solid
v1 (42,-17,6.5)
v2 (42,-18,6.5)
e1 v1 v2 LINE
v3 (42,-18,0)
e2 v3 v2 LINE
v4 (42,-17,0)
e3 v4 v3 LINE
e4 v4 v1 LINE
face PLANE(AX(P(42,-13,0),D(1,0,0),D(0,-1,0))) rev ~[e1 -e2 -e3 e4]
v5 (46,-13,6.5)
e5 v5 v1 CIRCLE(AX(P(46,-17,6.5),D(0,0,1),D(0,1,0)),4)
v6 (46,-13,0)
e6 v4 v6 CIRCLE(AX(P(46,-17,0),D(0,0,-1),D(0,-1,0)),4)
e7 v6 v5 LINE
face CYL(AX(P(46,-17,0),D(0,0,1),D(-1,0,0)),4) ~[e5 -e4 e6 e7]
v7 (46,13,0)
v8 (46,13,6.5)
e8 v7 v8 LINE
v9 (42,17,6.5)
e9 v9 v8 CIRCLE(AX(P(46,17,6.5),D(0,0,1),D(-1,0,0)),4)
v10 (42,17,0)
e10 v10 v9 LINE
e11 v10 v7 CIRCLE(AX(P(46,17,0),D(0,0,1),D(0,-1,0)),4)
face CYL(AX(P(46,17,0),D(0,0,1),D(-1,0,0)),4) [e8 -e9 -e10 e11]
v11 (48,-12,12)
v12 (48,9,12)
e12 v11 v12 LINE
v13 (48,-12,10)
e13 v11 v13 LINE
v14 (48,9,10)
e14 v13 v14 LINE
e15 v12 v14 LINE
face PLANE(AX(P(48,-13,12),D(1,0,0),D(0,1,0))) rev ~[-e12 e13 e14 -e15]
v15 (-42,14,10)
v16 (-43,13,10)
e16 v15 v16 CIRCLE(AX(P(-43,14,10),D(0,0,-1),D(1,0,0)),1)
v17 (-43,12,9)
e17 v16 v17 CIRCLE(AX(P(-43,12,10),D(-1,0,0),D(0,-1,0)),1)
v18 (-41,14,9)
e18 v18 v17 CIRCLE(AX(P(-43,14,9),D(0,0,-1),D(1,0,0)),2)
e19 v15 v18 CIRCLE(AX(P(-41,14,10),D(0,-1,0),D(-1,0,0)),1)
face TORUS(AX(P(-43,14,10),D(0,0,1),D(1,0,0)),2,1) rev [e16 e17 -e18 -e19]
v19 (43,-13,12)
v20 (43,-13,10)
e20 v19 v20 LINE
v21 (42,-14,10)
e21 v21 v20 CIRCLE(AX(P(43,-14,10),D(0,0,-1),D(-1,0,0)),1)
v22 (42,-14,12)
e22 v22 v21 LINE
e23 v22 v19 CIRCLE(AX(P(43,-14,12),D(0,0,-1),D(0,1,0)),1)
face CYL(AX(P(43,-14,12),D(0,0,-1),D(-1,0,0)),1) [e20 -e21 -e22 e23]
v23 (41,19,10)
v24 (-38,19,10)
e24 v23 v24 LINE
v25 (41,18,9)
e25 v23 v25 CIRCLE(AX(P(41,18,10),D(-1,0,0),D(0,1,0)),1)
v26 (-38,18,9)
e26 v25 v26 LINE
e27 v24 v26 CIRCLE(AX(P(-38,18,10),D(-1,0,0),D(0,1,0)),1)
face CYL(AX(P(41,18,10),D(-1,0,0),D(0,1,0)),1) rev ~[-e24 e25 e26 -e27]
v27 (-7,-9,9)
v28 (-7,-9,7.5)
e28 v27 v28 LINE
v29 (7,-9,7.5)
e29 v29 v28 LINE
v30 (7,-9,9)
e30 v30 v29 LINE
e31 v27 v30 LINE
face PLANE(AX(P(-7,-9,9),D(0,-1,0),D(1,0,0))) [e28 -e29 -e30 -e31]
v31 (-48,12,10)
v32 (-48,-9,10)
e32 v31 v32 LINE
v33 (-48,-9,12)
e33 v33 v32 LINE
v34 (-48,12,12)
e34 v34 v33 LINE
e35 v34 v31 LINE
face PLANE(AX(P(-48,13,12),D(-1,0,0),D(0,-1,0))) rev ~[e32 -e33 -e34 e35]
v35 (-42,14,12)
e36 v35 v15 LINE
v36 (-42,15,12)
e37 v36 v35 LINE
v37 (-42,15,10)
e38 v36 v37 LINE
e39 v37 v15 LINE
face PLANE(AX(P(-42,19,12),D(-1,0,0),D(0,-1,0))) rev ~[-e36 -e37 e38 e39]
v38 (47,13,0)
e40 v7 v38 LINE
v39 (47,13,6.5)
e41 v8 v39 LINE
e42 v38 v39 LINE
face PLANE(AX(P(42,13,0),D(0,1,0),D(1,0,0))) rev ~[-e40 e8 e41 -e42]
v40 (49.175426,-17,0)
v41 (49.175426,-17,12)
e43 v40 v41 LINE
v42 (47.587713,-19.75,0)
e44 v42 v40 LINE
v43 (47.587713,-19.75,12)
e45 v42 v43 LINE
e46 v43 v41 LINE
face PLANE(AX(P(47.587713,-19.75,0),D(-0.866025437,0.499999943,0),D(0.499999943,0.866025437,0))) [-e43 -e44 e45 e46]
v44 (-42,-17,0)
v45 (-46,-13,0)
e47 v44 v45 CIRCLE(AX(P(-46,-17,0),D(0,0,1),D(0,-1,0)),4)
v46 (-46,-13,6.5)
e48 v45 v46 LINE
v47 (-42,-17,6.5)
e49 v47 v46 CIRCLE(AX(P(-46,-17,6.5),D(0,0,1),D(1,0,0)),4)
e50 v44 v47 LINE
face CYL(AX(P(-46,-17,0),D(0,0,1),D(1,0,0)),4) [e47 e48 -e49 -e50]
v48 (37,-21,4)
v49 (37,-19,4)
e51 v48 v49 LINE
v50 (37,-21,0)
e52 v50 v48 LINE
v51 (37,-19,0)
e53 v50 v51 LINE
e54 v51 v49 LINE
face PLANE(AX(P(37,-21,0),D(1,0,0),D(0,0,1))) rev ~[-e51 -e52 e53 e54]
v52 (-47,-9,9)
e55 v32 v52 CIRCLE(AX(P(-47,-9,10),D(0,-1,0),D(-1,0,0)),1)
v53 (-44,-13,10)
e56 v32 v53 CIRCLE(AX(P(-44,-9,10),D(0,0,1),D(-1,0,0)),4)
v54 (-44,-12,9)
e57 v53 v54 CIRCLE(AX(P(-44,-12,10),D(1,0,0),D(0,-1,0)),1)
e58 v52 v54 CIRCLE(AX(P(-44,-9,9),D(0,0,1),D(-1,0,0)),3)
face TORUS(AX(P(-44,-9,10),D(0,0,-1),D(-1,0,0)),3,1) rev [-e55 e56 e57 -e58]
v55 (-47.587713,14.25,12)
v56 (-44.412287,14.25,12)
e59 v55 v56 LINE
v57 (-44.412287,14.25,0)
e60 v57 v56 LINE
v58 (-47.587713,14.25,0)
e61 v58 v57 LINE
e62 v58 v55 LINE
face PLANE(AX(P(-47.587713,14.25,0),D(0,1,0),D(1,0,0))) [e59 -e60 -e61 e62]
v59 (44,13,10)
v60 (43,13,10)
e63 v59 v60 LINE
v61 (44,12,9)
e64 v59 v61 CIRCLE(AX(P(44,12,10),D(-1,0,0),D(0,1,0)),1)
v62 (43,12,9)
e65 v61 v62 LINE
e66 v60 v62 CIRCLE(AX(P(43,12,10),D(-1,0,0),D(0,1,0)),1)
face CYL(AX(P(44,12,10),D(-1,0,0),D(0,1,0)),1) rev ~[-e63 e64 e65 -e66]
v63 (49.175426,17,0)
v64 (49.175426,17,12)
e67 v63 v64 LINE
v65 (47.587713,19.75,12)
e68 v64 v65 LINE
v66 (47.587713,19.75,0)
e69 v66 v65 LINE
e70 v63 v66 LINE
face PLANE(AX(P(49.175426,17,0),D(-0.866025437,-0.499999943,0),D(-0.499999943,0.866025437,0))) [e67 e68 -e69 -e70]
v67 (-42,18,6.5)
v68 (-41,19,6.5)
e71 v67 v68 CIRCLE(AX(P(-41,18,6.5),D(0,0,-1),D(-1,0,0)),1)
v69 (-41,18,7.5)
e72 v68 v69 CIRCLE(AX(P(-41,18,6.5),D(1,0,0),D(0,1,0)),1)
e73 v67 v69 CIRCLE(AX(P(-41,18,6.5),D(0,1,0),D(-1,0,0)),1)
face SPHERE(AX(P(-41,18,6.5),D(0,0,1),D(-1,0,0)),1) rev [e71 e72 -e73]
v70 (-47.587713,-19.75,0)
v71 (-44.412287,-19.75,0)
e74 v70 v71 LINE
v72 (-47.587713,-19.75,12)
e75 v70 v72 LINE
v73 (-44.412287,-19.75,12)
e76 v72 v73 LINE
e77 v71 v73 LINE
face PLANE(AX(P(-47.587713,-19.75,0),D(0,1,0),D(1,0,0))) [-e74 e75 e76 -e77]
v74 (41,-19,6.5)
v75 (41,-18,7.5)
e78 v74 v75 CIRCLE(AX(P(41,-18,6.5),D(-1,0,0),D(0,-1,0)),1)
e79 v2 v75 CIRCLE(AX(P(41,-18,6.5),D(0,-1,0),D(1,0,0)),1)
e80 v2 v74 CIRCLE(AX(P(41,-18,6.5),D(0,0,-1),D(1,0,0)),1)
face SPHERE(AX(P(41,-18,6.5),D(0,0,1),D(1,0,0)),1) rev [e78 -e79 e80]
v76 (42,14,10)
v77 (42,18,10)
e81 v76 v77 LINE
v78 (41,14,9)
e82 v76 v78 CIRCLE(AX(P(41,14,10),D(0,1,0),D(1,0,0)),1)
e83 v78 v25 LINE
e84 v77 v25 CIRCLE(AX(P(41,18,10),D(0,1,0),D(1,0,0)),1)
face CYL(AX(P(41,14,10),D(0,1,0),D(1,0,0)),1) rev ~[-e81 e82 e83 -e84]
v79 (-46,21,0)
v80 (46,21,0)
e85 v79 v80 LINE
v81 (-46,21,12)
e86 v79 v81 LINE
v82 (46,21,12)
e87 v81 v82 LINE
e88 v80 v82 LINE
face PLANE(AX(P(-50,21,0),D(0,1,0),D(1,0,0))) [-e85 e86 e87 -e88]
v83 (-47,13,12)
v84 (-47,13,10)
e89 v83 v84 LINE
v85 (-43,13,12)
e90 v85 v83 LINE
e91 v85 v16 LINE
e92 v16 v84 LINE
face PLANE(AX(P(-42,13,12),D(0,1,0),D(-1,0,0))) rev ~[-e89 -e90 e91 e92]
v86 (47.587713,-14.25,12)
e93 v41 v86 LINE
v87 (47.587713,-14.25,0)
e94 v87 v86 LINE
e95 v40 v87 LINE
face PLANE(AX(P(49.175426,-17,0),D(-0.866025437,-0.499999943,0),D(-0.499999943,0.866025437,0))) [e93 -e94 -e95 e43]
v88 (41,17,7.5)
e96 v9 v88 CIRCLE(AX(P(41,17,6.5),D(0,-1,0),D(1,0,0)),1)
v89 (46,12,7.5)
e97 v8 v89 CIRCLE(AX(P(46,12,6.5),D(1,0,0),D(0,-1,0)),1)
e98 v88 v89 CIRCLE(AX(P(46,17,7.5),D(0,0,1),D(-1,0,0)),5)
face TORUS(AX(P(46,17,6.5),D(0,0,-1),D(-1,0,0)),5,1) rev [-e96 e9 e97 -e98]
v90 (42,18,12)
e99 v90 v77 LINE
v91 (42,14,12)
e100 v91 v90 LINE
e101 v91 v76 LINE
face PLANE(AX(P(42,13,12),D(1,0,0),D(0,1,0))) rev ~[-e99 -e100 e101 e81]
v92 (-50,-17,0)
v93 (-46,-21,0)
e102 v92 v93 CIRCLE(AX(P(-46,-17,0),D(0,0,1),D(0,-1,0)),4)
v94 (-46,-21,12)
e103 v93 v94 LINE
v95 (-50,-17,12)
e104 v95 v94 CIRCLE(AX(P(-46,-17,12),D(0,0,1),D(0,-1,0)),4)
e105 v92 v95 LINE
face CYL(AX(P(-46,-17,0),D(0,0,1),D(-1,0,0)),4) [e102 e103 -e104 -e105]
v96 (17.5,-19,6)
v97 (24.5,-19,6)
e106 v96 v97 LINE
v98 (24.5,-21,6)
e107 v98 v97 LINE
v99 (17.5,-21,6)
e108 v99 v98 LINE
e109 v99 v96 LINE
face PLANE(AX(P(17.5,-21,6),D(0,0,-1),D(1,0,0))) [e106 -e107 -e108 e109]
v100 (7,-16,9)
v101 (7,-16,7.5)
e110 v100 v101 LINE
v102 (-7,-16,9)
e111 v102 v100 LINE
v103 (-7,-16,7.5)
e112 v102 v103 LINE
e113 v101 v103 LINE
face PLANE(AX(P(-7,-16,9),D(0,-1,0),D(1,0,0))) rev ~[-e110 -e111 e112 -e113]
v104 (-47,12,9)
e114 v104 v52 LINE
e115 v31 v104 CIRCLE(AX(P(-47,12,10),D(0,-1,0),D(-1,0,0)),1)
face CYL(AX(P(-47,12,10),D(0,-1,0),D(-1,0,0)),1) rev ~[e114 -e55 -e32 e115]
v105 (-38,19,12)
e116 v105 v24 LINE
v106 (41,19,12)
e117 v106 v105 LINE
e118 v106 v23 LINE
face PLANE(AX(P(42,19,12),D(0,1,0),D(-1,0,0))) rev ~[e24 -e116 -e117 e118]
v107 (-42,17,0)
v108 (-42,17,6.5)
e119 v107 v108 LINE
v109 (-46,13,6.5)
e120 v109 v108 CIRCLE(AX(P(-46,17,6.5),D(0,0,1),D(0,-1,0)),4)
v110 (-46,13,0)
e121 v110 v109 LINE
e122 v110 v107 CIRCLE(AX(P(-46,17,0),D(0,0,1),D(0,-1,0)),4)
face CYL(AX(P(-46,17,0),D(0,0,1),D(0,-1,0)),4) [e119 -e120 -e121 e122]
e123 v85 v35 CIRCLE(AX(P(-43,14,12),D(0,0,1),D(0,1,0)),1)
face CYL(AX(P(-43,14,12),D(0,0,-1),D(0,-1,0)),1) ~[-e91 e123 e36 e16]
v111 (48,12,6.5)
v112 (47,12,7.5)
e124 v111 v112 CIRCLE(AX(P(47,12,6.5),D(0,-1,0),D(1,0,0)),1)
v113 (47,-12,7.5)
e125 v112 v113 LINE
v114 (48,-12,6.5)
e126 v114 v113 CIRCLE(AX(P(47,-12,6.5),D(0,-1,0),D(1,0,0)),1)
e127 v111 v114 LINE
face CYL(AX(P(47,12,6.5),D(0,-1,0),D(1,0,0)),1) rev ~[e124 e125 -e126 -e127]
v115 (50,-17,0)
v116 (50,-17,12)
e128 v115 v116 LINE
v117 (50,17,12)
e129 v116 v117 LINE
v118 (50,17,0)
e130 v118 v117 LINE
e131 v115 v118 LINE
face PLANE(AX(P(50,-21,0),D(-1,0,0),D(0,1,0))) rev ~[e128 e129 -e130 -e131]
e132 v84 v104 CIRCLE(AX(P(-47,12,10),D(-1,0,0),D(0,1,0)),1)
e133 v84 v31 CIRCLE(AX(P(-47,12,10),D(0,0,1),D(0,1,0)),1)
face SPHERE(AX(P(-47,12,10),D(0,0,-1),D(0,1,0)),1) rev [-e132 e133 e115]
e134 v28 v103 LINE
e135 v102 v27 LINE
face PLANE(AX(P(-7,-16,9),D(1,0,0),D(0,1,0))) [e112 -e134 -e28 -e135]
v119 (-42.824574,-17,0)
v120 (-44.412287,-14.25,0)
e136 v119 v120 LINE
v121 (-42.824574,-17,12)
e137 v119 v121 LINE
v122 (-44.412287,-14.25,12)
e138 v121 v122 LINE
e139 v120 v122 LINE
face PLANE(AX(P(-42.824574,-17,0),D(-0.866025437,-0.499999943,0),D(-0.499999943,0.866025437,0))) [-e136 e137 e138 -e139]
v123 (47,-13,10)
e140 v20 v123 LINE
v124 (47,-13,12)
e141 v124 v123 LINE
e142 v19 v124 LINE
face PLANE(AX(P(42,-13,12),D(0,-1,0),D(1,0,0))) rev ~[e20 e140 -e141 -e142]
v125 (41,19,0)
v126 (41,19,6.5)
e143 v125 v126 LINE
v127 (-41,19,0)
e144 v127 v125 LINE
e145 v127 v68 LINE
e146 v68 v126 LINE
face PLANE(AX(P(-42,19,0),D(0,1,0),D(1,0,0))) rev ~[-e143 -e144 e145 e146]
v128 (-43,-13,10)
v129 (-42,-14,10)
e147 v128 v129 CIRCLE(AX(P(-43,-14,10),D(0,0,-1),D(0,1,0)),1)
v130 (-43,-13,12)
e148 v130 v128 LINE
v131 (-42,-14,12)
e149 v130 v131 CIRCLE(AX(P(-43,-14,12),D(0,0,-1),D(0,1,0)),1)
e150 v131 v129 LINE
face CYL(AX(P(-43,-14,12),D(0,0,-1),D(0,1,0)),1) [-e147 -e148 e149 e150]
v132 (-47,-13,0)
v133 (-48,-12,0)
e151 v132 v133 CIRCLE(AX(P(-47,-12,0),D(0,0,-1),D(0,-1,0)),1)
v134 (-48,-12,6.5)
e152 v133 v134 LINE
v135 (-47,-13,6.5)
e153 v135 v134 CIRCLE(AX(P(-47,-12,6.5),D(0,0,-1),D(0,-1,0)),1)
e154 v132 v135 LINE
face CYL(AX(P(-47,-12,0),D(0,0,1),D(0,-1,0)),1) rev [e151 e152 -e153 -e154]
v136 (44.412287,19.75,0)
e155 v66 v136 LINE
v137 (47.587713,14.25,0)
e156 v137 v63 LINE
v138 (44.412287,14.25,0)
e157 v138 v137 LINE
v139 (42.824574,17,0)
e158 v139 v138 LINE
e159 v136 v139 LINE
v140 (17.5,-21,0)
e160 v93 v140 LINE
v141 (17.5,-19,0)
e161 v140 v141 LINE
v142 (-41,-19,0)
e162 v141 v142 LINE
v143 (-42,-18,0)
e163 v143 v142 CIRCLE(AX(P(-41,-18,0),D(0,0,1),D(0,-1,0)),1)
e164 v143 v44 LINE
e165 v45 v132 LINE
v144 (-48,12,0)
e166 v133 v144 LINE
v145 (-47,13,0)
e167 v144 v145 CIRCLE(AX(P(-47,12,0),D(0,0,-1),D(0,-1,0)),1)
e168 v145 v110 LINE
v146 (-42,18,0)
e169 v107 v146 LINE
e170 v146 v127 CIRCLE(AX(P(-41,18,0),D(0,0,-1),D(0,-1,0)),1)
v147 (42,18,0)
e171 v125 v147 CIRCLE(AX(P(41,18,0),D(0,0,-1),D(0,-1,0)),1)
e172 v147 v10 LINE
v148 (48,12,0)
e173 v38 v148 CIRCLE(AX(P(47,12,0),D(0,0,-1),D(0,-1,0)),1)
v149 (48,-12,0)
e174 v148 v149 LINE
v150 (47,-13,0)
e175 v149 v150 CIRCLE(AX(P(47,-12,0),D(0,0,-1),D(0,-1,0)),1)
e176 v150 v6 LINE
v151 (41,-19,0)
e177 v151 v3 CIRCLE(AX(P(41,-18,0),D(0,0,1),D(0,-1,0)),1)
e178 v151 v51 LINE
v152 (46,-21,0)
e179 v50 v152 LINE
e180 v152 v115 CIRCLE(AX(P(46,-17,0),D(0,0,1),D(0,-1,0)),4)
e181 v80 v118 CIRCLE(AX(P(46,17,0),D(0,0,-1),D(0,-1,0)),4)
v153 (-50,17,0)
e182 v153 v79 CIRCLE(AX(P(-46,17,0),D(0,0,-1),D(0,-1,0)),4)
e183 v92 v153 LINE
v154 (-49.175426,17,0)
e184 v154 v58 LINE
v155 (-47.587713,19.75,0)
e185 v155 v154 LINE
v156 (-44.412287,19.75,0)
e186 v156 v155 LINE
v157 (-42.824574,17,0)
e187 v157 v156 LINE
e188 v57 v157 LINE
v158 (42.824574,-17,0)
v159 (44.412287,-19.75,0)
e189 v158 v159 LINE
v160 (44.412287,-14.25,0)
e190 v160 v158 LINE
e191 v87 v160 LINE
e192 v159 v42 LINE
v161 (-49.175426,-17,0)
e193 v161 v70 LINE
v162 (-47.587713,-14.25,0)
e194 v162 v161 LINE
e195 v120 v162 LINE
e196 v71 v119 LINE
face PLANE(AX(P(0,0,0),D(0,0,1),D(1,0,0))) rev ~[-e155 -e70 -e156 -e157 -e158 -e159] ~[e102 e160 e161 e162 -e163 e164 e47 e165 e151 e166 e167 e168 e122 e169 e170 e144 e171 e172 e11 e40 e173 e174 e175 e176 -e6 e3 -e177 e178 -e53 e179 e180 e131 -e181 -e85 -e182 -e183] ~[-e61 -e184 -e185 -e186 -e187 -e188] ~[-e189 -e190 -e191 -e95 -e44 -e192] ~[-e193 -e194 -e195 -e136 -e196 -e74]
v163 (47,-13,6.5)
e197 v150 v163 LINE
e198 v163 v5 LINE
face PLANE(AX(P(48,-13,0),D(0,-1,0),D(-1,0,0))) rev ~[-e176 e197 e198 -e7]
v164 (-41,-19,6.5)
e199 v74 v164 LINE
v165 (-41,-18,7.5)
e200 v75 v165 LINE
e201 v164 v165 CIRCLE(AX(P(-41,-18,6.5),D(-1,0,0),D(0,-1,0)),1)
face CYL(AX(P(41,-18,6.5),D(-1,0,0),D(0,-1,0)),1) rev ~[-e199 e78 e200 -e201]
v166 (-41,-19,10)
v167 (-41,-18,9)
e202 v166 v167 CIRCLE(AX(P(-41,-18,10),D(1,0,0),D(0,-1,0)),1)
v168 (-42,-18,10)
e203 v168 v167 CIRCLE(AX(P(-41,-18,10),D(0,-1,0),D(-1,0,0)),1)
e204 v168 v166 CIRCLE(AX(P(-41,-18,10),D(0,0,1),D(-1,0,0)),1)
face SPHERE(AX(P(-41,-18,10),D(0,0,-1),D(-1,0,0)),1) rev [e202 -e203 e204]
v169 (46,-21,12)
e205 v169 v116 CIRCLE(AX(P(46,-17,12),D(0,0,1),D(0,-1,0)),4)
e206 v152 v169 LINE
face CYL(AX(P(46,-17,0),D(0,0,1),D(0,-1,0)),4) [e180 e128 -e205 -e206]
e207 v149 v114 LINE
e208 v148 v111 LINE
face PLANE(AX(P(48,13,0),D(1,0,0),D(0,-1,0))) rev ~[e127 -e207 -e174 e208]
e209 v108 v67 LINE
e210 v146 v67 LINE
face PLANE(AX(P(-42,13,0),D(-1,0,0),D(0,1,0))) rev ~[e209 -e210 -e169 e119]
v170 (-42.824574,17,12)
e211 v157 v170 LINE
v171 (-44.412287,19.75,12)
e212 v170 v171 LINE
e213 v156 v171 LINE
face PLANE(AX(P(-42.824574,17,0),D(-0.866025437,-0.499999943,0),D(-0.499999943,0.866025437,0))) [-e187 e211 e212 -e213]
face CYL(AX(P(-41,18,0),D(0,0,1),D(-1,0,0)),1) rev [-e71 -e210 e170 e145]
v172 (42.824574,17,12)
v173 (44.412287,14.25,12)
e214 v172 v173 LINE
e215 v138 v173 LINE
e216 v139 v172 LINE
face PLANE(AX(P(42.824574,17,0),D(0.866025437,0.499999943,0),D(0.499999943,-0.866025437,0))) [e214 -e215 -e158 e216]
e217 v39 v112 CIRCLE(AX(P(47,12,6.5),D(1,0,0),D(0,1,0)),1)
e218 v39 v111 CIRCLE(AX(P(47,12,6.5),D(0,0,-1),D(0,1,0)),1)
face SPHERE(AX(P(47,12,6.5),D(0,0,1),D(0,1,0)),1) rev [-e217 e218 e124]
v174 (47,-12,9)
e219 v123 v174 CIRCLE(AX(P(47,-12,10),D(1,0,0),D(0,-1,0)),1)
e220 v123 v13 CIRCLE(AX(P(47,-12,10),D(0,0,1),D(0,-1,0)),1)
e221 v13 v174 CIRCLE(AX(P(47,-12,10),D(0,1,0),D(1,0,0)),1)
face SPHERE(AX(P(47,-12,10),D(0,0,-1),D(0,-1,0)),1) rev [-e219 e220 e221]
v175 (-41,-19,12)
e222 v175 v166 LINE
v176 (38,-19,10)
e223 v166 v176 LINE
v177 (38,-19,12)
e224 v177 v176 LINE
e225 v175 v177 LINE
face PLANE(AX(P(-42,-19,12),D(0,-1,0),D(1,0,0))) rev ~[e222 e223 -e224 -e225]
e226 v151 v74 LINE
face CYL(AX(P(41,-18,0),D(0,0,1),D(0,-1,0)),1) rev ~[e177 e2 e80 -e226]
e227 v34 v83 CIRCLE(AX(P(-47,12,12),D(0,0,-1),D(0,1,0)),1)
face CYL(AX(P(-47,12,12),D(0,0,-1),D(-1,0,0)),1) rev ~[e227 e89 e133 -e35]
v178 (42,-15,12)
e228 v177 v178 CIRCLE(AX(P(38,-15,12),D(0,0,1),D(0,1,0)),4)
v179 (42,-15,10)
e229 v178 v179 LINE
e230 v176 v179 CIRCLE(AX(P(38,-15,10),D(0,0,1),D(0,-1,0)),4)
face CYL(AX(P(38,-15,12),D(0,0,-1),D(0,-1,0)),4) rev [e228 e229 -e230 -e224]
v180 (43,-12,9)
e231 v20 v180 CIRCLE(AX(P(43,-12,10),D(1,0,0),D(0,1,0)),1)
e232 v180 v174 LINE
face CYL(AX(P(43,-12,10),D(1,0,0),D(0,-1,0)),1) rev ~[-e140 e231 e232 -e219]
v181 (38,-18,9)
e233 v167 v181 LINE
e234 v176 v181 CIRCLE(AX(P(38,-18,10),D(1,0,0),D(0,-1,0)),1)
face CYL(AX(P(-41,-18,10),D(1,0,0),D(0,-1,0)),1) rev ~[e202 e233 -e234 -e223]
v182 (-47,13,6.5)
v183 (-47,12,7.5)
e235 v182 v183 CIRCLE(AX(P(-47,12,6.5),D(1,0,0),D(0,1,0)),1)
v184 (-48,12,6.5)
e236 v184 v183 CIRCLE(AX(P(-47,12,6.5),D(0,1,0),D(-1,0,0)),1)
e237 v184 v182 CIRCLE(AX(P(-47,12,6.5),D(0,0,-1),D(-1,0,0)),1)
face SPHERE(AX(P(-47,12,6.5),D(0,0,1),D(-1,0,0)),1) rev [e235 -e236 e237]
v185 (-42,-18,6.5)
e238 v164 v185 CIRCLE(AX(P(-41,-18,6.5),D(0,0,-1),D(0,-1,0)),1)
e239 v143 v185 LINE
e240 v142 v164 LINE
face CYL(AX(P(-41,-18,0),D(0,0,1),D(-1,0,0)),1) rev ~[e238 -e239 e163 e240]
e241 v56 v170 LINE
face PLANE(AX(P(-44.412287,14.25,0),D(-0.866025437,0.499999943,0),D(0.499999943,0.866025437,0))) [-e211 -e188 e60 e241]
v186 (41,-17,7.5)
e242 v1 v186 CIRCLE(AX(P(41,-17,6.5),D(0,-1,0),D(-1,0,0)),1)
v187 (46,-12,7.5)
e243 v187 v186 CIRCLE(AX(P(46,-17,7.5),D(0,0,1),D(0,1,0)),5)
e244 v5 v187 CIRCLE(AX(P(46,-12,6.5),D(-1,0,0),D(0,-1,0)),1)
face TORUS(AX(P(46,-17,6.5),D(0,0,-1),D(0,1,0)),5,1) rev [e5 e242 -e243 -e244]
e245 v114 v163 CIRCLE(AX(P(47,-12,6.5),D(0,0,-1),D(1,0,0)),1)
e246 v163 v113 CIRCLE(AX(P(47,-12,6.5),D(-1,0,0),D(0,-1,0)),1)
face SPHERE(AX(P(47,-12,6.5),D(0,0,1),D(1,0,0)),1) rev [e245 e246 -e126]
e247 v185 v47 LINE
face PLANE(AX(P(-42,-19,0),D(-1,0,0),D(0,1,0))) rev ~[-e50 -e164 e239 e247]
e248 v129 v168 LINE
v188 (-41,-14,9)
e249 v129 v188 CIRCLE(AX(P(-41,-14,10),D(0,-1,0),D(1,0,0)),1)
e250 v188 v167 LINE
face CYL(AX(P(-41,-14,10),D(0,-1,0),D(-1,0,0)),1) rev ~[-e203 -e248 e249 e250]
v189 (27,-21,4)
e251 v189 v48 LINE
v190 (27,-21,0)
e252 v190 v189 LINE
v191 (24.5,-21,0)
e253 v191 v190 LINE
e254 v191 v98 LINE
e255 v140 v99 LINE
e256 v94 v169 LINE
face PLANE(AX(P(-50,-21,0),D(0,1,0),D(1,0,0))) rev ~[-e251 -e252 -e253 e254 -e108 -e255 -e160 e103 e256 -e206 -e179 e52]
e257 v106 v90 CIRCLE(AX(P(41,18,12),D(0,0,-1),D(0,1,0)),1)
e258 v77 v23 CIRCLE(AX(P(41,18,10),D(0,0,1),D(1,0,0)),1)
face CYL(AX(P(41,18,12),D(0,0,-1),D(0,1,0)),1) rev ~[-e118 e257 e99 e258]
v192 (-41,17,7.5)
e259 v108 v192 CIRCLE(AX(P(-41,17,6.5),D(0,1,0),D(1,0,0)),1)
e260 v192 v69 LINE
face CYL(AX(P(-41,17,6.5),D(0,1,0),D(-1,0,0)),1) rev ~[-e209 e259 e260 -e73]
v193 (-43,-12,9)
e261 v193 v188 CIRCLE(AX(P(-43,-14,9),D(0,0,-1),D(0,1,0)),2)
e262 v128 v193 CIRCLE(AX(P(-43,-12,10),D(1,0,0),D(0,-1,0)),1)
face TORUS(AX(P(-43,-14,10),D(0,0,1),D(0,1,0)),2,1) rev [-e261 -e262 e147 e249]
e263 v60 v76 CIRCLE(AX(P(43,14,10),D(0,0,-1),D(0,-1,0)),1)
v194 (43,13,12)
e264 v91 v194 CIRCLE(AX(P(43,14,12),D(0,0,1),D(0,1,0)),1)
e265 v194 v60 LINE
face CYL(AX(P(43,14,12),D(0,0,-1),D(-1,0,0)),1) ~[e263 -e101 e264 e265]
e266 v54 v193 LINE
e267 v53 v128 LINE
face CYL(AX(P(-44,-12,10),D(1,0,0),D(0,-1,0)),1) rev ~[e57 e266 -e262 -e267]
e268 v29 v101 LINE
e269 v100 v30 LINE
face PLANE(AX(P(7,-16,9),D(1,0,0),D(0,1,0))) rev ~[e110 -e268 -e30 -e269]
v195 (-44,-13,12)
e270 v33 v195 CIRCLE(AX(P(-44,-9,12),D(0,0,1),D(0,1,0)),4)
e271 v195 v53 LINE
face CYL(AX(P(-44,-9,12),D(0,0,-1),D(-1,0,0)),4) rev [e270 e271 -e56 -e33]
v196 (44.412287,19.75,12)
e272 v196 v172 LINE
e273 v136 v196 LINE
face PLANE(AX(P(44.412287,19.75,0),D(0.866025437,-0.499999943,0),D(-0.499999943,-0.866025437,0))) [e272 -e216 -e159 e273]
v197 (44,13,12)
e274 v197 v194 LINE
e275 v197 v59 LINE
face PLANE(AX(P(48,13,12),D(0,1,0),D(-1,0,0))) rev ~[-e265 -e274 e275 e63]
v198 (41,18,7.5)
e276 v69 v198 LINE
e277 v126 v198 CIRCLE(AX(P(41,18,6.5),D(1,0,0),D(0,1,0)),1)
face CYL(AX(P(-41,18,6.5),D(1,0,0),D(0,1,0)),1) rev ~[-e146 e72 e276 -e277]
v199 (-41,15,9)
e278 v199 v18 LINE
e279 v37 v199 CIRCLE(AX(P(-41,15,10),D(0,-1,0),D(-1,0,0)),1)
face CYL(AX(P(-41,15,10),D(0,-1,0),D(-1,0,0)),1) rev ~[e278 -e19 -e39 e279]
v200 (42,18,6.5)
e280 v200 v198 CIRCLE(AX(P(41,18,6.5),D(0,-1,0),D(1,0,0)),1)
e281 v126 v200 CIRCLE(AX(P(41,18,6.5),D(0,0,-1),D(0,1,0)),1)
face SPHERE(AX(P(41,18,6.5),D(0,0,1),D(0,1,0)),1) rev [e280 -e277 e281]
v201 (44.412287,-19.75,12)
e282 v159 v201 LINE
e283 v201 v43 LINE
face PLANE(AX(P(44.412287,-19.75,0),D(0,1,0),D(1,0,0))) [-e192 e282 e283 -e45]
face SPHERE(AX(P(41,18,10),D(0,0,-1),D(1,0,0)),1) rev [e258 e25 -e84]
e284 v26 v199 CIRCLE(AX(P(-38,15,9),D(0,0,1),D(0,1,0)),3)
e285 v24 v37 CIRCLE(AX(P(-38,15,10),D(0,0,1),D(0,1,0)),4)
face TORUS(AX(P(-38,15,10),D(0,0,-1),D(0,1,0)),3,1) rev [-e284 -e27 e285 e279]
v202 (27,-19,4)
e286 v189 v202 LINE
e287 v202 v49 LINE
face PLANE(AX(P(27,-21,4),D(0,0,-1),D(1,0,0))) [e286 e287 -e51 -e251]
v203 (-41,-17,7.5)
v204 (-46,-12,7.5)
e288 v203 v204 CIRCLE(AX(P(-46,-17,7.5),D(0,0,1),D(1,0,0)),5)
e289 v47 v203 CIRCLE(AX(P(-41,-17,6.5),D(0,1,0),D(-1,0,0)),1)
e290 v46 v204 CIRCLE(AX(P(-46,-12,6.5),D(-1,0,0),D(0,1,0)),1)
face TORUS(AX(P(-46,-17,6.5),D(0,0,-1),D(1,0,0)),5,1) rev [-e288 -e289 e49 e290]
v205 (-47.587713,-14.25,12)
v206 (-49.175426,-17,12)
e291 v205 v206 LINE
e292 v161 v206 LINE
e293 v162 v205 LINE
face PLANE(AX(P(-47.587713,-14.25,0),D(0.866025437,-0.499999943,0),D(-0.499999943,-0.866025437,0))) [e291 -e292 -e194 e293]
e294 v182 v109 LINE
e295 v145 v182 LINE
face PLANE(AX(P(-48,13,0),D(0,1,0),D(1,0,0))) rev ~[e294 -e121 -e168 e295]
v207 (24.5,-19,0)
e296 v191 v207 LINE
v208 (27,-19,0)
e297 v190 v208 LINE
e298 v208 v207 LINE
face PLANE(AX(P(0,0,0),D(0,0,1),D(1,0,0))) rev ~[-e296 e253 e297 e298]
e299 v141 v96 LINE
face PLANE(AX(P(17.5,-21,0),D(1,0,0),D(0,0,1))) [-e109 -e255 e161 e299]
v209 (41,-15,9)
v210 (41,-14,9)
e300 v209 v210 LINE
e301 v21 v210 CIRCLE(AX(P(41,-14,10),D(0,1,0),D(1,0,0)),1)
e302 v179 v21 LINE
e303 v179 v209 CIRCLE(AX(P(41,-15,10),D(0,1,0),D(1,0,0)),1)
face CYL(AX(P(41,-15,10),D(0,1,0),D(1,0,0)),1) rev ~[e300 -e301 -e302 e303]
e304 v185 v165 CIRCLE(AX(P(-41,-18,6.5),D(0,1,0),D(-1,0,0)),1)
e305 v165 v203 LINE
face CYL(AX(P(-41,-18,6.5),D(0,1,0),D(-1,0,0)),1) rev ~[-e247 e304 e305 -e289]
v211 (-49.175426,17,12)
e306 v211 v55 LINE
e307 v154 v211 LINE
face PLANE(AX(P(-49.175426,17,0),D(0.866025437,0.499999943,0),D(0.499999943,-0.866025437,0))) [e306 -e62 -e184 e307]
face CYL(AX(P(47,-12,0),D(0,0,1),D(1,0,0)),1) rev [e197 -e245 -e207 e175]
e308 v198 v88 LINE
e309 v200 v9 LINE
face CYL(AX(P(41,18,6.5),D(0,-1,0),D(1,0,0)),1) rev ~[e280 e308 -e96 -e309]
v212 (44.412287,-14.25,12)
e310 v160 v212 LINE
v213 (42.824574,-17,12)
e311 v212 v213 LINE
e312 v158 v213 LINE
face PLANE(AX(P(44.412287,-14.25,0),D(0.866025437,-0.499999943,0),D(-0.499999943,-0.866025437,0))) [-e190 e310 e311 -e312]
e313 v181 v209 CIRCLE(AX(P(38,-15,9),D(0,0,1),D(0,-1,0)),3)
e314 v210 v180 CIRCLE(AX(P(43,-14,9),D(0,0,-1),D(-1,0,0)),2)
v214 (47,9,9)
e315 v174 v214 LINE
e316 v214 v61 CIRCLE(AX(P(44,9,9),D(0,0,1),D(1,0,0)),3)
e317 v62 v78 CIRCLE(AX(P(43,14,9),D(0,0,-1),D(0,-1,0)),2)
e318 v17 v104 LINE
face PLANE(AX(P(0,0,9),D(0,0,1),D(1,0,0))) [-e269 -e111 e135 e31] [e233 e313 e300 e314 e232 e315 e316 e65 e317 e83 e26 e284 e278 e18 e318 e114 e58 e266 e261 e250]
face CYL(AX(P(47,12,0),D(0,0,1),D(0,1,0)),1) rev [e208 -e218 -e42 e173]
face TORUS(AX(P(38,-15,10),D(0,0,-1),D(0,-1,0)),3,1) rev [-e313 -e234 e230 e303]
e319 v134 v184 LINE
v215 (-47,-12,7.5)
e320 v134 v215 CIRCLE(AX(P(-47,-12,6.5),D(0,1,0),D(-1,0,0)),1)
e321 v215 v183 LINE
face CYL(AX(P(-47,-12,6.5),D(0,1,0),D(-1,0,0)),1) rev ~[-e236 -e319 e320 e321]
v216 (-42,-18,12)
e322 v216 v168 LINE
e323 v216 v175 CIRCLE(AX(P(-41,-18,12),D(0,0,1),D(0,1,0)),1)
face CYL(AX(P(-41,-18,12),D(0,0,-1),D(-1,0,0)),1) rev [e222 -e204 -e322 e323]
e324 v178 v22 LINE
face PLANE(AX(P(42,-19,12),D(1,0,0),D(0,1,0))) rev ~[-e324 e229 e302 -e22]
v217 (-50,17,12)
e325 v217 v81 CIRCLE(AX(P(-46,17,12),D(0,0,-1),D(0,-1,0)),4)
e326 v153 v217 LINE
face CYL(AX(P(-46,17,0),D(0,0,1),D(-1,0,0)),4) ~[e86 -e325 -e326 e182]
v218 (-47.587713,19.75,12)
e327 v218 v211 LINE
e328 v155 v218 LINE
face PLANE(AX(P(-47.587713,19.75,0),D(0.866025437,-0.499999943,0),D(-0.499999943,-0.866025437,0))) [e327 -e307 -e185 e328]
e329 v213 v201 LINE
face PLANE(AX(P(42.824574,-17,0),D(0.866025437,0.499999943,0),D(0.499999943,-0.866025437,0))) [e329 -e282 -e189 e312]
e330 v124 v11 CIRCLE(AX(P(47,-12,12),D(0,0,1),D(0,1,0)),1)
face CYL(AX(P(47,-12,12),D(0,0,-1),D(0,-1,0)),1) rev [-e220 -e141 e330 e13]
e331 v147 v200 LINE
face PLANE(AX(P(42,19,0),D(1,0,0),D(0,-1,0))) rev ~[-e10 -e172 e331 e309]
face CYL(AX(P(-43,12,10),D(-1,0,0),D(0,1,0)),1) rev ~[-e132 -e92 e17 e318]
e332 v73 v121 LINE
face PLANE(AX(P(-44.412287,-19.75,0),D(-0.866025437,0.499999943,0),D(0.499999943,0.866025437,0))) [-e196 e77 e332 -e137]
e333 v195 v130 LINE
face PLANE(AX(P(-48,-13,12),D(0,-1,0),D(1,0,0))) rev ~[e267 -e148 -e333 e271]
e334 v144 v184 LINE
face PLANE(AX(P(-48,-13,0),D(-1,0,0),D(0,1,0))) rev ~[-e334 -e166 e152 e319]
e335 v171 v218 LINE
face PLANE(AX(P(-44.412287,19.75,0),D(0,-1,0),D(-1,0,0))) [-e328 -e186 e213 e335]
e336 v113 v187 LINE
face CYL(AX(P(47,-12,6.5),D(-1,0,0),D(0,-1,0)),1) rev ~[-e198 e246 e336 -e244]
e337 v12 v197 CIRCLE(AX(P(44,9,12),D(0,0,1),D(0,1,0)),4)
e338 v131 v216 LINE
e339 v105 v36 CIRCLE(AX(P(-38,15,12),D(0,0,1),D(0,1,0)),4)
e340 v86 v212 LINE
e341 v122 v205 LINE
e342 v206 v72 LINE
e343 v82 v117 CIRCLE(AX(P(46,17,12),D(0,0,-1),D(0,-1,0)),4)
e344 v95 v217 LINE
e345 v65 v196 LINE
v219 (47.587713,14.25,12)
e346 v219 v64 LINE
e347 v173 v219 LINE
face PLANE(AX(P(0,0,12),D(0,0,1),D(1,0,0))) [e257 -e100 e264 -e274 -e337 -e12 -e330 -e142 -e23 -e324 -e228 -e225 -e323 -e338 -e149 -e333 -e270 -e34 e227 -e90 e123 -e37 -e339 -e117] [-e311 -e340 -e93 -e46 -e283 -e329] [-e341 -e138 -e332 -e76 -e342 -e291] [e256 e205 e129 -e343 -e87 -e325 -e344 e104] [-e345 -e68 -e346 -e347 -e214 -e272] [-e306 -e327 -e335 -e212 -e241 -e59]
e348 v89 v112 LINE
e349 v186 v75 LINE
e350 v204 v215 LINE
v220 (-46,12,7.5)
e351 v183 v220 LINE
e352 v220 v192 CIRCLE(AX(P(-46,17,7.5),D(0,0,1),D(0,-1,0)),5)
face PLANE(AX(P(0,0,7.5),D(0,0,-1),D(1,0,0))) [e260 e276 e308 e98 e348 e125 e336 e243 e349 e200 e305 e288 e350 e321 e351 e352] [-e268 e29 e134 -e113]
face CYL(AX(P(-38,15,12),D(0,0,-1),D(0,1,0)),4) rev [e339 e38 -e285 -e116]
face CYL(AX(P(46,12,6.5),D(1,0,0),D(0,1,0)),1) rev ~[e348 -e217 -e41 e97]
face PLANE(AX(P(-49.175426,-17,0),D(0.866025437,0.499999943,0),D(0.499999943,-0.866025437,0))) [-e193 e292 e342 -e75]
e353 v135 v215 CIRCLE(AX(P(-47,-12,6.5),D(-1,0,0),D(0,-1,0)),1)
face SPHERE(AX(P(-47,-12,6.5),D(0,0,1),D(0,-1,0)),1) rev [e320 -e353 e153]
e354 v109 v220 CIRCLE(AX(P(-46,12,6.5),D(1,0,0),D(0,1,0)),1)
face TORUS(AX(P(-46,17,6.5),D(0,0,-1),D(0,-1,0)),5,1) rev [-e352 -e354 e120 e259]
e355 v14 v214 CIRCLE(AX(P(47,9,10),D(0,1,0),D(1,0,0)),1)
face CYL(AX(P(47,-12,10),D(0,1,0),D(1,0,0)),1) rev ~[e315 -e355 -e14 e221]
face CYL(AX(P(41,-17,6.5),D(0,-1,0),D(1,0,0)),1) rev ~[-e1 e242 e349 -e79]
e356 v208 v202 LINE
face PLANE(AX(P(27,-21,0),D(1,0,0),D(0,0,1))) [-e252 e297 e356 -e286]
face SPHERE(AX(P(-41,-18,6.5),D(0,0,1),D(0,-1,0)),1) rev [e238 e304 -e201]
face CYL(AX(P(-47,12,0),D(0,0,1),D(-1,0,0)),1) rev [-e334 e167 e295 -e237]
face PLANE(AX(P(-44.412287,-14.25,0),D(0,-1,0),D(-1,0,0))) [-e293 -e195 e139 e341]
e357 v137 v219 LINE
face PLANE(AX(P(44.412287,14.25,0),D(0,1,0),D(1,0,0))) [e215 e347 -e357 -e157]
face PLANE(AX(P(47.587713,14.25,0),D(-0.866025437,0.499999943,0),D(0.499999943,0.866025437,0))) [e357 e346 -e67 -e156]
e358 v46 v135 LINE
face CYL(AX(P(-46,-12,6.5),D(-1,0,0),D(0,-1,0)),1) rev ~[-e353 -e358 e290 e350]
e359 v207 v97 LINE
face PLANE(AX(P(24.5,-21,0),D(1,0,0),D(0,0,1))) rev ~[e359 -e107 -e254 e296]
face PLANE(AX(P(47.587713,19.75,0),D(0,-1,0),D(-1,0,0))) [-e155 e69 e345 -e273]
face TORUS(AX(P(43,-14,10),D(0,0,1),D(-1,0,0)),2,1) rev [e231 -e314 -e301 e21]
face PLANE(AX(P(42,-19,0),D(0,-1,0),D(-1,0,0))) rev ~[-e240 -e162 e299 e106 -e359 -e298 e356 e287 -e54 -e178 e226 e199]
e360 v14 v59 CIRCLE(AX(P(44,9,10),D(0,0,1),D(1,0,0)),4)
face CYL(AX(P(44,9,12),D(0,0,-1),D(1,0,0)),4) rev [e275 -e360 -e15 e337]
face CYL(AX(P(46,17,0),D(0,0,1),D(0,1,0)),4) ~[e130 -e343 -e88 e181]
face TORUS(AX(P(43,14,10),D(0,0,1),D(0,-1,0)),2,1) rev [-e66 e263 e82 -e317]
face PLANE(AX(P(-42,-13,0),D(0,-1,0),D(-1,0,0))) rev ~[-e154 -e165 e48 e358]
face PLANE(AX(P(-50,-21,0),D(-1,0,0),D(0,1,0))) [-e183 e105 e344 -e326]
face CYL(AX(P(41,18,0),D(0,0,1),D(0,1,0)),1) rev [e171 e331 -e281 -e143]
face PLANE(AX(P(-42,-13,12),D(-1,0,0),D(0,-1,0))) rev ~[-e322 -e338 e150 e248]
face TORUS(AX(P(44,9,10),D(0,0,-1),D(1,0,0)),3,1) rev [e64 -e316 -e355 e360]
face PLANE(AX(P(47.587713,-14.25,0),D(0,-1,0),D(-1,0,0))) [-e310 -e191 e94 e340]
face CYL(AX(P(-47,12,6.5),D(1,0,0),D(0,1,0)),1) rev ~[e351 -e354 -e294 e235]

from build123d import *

# Parameters (mm, degrees)
SKETCH_W        = 100
SKETCH_H        = 42
PAD_DEPTH       = 12
POCKET_DEPTH    = 3
POCKET001_DEPTH = 7.5
SKETCH002_W     = 14
SKETCH002_H     = 7
POCKET002_DEPTH = 5
SKETCH004_W     = 7
SKETCH004_H     = 6
POCKET003_DEPTH = 5
SKETCH005_W     = 10
SKETCH005_H     = 4
POCKET004_DEPTH = 5
FILLET_R        = 4
FILLET001_R     = 4
FILLET002_R     = 1
FILLET003_R     = 1
FILLET004_R     = 4
FILLET005_R     = 1
FILLET006_R     = 1


with BuildPart() as part:
    # Sketch → Pad (new body)
    with BuildSketch(Plane.XY):
        Rectangle(SKETCH_W, SKETCH_H)
        Polygon((-44.412287, 14.25), (-42.824574, 17), (-44.412287, 19.75), (-47.587713, 19.75), (-49.175426, 17), (-47.587713, 14.25), align=None, mode=Mode.SUBTRACT)
        Polygon((-44.412287, -19.75), (-42.824574, -17), (-44.412287, -14.25), (-47.587713, -14.25), (-49.175426, -17), (-47.587713, -19.75), align=None, mode=Mode.SUBTRACT)
        Polygon((49.175426, 17), (47.587713, 19.75), (44.412287, 19.75), (42.824574, 17), (44.412287, 14.25), (47.587713, 14.25), align=None, mode=Mode.SUBTRACT)
        Polygon((47.587713, -19.75), (49.175426, -17), (47.587713, -14.25), (44.412287, -14.25), (42.824574, -17), (44.412287, -19.75), align=None, mode=Mode.SUBTRACT)
    extrude(amount=PAD_DEPTH)

    # Sketch001 → Pocket (cut)
    with BuildSketch(Plane.XY.offset(12)):
        Polygon((-48, 13), (-48, -13), (-42, -13), (-42, -19), (42, -19), (42, -13), (48, -13), (48, 13), (42, 13), (42, 19), (-42, 19), (-42, 13), align=None)
    extrude(amount=-POCKET_DEPTH, mode=Mode.SUBTRACT)

    # Sketch003 → Pocket001 (cut)
    with BuildSketch(Plane(origin=(0, 0, 0), x_dir=(1, 0, 0), z_dir=(0, 0, -1))):
        Polygon((-48, 13), (-48, -13), (-42, -13), (-42, -19), (42, -19), (42, -13), (48, -13), (48, 13), (42, 13), (42, 19), (-42, 19), (-42, 13), align=None)
    extrude(amount=-POCKET001_DEPTH, mode=Mode.SUBTRACT)

    # Sketch002 → Pocket002 (cut)
    with BuildSketch(Plane.XY.offset(9)):
        with Locations((0, -12.5)):
            Rectangle(SKETCH002_W, SKETCH002_H)
    extrude(amount=-POCKET002_DEPTH, mode=Mode.SUBTRACT)

    # Sketch004 → Pocket003 (cut)
    with BuildSketch(Plane.XZ.offset(21)):
        with Locations((21, 3)):
            Rectangle(SKETCH004_W, SKETCH004_H)
    extrude(amount=-POCKET003_DEPTH, mode=Mode.SUBTRACT)

    # Sketch005 → Pocket004 (cut)
    with BuildSketch(Plane.XZ.offset(21)):
        with Locations((32, 2)):
            Rectangle(SKETCH005_W, SKETCH005_H)
    extrude(amount=-POCKET004_DEPTH, mode=Mode.SUBTRACT)

    # Fillet
    fillet_edges = [part.edges().sort_by_distance(p)[0] for p in [
        (50, -21, 6),
        (50, 21, 6),
        (-50, -21, 6),
        (-50, 21, 6),
    ]]
    fillet(fillet_edges, radius=FILLET_R)

    # Fillet001
    fillet001_edges = [part.edges().sort_by_distance(p)[0] for p in [
        (-42, 19, 10.5),
        (48, 13, 10.5),
        (42, -19, 10.5),
        (-48, -13, 10.5),
    ]]
    fillet(fillet001_edges, radius=FILLET001_R)

    # Fillet002
    fillet002_edges = [part.edges().sort_by_distance(p)[0] for p in [
        (42, 19, 10.5),
        (-42, 13, 10.5),
        (42, 13, 10.5),
        (48, -13, 10.5),
        (42, -13, 10.5),
        (-42, -19, 10.5),
        (-42, -13, 10.5),
        (-48, 13, 10.5),
    ]]
    fillet(fillet002_edges, radius=FILLET002_R)

    # Fillet003
    fillet003_edges = [part.edges().sort_by_distance(p)[0] for p in [
        (42, 16, 9),
        (41.707107, 18.707107, 9),
        (1.5, 19, 9),
        (-40.828427, 17.828427, 9),
        (-42, 14.5, 9),
        (-42.292893, 13.292893, 9),
        (-45, 13, 9),
        (-47.707107, 12.707107, 9),
        (-48, 1.5, 9),
        (-46.828427, -11.828427, 9),
        (-43.5, -13, 9),
        (-42.292893, -13.292893, 9),
        (-42, -16, 9),
        (-41.707107, -18.707107, 9),
        (-1.5, -19, 9),
        (40.828427, -17.828427, 9),
        (42.292893, -13.292893, 9),
        (45, -13, 9),
        (42, -14.5, 9),
        (47.707107, -12.707107, 9),
        (48, -1.5, 9),
        (46.828427, 11.828427, 9),
        (43.5, 13, 9),
        (42.292893, 13.292893, 9),
    ]]
    fillet(fillet003_edges, radius=FILLET003_R)

    # Fillet004
    fillet004_edges = [part.edges().sort_by_distance(p)[0] for p in [
        (-42, 13, 3.75),
        (-42, -13, 3.75),
        (42, 13, 3.75),
        (42, -13, 3.75),
    ]]
    fillet(fillet004_edges, radius=FILLET004_R)

    # Fillet005
    fillet005_edges = [part.edges().sort_by_distance(p)[0] for p in [
        (42, -19, 3.75),
        (48, -13, 3.75),
        (48, 13, 3.75),
        (42, 19, 3.75),
        (-42, 19, 3.75),
        (-48, 13, 3.75),
        (-42, -19, 3.75),
        (-48, -13, 3.75),
    ]]
    fillet(fillet005_edges, radius=FILLET005_R)

    # Fillet006
    fillet006_edges = [part.edges().sort_by_distance(p)[0] for p in [
        (0, -19, 7.5),
        (-41.707107, -18.707107, 7.5),
        (-42, -17.5, 7.5),
        (-43.171573, -14.171573, 7.5),
        (-46.5, -13, 7.5),
        (-47.707107, -12.707107, 7.5),
        (-48, 0, 7.5),
        (41.707107, -18.707107, 7.5),
        (42, -17.5, 7.5),
        (43.171573, -14.171573, 7.5),
        (46.5, -13, 7.5),
        (47.707107, -12.707107, 7.5),
        (48, 0, 7.5),
        (47.707107, 12.707107, 7.5),
        (46.5, 13, 7.5),
        (43.171573, 14.171573, 7.5),
        (42, 17.5, 7.5),
        (41.707107, 18.707107, 7.5),
        (0, 19, 7.5),
        (-47.707107, 12.707107, 7.5),
        (-46.5, 13, 7.5),
        (-43.171573, 14.171573, 7.5),
        (-42, 17.5, 7.5),
        (-41.707107, 18.707107, 7.5),
    ]]
    fillet(fillet006_edges, radius=FILLET006_R)


solid = part.part
